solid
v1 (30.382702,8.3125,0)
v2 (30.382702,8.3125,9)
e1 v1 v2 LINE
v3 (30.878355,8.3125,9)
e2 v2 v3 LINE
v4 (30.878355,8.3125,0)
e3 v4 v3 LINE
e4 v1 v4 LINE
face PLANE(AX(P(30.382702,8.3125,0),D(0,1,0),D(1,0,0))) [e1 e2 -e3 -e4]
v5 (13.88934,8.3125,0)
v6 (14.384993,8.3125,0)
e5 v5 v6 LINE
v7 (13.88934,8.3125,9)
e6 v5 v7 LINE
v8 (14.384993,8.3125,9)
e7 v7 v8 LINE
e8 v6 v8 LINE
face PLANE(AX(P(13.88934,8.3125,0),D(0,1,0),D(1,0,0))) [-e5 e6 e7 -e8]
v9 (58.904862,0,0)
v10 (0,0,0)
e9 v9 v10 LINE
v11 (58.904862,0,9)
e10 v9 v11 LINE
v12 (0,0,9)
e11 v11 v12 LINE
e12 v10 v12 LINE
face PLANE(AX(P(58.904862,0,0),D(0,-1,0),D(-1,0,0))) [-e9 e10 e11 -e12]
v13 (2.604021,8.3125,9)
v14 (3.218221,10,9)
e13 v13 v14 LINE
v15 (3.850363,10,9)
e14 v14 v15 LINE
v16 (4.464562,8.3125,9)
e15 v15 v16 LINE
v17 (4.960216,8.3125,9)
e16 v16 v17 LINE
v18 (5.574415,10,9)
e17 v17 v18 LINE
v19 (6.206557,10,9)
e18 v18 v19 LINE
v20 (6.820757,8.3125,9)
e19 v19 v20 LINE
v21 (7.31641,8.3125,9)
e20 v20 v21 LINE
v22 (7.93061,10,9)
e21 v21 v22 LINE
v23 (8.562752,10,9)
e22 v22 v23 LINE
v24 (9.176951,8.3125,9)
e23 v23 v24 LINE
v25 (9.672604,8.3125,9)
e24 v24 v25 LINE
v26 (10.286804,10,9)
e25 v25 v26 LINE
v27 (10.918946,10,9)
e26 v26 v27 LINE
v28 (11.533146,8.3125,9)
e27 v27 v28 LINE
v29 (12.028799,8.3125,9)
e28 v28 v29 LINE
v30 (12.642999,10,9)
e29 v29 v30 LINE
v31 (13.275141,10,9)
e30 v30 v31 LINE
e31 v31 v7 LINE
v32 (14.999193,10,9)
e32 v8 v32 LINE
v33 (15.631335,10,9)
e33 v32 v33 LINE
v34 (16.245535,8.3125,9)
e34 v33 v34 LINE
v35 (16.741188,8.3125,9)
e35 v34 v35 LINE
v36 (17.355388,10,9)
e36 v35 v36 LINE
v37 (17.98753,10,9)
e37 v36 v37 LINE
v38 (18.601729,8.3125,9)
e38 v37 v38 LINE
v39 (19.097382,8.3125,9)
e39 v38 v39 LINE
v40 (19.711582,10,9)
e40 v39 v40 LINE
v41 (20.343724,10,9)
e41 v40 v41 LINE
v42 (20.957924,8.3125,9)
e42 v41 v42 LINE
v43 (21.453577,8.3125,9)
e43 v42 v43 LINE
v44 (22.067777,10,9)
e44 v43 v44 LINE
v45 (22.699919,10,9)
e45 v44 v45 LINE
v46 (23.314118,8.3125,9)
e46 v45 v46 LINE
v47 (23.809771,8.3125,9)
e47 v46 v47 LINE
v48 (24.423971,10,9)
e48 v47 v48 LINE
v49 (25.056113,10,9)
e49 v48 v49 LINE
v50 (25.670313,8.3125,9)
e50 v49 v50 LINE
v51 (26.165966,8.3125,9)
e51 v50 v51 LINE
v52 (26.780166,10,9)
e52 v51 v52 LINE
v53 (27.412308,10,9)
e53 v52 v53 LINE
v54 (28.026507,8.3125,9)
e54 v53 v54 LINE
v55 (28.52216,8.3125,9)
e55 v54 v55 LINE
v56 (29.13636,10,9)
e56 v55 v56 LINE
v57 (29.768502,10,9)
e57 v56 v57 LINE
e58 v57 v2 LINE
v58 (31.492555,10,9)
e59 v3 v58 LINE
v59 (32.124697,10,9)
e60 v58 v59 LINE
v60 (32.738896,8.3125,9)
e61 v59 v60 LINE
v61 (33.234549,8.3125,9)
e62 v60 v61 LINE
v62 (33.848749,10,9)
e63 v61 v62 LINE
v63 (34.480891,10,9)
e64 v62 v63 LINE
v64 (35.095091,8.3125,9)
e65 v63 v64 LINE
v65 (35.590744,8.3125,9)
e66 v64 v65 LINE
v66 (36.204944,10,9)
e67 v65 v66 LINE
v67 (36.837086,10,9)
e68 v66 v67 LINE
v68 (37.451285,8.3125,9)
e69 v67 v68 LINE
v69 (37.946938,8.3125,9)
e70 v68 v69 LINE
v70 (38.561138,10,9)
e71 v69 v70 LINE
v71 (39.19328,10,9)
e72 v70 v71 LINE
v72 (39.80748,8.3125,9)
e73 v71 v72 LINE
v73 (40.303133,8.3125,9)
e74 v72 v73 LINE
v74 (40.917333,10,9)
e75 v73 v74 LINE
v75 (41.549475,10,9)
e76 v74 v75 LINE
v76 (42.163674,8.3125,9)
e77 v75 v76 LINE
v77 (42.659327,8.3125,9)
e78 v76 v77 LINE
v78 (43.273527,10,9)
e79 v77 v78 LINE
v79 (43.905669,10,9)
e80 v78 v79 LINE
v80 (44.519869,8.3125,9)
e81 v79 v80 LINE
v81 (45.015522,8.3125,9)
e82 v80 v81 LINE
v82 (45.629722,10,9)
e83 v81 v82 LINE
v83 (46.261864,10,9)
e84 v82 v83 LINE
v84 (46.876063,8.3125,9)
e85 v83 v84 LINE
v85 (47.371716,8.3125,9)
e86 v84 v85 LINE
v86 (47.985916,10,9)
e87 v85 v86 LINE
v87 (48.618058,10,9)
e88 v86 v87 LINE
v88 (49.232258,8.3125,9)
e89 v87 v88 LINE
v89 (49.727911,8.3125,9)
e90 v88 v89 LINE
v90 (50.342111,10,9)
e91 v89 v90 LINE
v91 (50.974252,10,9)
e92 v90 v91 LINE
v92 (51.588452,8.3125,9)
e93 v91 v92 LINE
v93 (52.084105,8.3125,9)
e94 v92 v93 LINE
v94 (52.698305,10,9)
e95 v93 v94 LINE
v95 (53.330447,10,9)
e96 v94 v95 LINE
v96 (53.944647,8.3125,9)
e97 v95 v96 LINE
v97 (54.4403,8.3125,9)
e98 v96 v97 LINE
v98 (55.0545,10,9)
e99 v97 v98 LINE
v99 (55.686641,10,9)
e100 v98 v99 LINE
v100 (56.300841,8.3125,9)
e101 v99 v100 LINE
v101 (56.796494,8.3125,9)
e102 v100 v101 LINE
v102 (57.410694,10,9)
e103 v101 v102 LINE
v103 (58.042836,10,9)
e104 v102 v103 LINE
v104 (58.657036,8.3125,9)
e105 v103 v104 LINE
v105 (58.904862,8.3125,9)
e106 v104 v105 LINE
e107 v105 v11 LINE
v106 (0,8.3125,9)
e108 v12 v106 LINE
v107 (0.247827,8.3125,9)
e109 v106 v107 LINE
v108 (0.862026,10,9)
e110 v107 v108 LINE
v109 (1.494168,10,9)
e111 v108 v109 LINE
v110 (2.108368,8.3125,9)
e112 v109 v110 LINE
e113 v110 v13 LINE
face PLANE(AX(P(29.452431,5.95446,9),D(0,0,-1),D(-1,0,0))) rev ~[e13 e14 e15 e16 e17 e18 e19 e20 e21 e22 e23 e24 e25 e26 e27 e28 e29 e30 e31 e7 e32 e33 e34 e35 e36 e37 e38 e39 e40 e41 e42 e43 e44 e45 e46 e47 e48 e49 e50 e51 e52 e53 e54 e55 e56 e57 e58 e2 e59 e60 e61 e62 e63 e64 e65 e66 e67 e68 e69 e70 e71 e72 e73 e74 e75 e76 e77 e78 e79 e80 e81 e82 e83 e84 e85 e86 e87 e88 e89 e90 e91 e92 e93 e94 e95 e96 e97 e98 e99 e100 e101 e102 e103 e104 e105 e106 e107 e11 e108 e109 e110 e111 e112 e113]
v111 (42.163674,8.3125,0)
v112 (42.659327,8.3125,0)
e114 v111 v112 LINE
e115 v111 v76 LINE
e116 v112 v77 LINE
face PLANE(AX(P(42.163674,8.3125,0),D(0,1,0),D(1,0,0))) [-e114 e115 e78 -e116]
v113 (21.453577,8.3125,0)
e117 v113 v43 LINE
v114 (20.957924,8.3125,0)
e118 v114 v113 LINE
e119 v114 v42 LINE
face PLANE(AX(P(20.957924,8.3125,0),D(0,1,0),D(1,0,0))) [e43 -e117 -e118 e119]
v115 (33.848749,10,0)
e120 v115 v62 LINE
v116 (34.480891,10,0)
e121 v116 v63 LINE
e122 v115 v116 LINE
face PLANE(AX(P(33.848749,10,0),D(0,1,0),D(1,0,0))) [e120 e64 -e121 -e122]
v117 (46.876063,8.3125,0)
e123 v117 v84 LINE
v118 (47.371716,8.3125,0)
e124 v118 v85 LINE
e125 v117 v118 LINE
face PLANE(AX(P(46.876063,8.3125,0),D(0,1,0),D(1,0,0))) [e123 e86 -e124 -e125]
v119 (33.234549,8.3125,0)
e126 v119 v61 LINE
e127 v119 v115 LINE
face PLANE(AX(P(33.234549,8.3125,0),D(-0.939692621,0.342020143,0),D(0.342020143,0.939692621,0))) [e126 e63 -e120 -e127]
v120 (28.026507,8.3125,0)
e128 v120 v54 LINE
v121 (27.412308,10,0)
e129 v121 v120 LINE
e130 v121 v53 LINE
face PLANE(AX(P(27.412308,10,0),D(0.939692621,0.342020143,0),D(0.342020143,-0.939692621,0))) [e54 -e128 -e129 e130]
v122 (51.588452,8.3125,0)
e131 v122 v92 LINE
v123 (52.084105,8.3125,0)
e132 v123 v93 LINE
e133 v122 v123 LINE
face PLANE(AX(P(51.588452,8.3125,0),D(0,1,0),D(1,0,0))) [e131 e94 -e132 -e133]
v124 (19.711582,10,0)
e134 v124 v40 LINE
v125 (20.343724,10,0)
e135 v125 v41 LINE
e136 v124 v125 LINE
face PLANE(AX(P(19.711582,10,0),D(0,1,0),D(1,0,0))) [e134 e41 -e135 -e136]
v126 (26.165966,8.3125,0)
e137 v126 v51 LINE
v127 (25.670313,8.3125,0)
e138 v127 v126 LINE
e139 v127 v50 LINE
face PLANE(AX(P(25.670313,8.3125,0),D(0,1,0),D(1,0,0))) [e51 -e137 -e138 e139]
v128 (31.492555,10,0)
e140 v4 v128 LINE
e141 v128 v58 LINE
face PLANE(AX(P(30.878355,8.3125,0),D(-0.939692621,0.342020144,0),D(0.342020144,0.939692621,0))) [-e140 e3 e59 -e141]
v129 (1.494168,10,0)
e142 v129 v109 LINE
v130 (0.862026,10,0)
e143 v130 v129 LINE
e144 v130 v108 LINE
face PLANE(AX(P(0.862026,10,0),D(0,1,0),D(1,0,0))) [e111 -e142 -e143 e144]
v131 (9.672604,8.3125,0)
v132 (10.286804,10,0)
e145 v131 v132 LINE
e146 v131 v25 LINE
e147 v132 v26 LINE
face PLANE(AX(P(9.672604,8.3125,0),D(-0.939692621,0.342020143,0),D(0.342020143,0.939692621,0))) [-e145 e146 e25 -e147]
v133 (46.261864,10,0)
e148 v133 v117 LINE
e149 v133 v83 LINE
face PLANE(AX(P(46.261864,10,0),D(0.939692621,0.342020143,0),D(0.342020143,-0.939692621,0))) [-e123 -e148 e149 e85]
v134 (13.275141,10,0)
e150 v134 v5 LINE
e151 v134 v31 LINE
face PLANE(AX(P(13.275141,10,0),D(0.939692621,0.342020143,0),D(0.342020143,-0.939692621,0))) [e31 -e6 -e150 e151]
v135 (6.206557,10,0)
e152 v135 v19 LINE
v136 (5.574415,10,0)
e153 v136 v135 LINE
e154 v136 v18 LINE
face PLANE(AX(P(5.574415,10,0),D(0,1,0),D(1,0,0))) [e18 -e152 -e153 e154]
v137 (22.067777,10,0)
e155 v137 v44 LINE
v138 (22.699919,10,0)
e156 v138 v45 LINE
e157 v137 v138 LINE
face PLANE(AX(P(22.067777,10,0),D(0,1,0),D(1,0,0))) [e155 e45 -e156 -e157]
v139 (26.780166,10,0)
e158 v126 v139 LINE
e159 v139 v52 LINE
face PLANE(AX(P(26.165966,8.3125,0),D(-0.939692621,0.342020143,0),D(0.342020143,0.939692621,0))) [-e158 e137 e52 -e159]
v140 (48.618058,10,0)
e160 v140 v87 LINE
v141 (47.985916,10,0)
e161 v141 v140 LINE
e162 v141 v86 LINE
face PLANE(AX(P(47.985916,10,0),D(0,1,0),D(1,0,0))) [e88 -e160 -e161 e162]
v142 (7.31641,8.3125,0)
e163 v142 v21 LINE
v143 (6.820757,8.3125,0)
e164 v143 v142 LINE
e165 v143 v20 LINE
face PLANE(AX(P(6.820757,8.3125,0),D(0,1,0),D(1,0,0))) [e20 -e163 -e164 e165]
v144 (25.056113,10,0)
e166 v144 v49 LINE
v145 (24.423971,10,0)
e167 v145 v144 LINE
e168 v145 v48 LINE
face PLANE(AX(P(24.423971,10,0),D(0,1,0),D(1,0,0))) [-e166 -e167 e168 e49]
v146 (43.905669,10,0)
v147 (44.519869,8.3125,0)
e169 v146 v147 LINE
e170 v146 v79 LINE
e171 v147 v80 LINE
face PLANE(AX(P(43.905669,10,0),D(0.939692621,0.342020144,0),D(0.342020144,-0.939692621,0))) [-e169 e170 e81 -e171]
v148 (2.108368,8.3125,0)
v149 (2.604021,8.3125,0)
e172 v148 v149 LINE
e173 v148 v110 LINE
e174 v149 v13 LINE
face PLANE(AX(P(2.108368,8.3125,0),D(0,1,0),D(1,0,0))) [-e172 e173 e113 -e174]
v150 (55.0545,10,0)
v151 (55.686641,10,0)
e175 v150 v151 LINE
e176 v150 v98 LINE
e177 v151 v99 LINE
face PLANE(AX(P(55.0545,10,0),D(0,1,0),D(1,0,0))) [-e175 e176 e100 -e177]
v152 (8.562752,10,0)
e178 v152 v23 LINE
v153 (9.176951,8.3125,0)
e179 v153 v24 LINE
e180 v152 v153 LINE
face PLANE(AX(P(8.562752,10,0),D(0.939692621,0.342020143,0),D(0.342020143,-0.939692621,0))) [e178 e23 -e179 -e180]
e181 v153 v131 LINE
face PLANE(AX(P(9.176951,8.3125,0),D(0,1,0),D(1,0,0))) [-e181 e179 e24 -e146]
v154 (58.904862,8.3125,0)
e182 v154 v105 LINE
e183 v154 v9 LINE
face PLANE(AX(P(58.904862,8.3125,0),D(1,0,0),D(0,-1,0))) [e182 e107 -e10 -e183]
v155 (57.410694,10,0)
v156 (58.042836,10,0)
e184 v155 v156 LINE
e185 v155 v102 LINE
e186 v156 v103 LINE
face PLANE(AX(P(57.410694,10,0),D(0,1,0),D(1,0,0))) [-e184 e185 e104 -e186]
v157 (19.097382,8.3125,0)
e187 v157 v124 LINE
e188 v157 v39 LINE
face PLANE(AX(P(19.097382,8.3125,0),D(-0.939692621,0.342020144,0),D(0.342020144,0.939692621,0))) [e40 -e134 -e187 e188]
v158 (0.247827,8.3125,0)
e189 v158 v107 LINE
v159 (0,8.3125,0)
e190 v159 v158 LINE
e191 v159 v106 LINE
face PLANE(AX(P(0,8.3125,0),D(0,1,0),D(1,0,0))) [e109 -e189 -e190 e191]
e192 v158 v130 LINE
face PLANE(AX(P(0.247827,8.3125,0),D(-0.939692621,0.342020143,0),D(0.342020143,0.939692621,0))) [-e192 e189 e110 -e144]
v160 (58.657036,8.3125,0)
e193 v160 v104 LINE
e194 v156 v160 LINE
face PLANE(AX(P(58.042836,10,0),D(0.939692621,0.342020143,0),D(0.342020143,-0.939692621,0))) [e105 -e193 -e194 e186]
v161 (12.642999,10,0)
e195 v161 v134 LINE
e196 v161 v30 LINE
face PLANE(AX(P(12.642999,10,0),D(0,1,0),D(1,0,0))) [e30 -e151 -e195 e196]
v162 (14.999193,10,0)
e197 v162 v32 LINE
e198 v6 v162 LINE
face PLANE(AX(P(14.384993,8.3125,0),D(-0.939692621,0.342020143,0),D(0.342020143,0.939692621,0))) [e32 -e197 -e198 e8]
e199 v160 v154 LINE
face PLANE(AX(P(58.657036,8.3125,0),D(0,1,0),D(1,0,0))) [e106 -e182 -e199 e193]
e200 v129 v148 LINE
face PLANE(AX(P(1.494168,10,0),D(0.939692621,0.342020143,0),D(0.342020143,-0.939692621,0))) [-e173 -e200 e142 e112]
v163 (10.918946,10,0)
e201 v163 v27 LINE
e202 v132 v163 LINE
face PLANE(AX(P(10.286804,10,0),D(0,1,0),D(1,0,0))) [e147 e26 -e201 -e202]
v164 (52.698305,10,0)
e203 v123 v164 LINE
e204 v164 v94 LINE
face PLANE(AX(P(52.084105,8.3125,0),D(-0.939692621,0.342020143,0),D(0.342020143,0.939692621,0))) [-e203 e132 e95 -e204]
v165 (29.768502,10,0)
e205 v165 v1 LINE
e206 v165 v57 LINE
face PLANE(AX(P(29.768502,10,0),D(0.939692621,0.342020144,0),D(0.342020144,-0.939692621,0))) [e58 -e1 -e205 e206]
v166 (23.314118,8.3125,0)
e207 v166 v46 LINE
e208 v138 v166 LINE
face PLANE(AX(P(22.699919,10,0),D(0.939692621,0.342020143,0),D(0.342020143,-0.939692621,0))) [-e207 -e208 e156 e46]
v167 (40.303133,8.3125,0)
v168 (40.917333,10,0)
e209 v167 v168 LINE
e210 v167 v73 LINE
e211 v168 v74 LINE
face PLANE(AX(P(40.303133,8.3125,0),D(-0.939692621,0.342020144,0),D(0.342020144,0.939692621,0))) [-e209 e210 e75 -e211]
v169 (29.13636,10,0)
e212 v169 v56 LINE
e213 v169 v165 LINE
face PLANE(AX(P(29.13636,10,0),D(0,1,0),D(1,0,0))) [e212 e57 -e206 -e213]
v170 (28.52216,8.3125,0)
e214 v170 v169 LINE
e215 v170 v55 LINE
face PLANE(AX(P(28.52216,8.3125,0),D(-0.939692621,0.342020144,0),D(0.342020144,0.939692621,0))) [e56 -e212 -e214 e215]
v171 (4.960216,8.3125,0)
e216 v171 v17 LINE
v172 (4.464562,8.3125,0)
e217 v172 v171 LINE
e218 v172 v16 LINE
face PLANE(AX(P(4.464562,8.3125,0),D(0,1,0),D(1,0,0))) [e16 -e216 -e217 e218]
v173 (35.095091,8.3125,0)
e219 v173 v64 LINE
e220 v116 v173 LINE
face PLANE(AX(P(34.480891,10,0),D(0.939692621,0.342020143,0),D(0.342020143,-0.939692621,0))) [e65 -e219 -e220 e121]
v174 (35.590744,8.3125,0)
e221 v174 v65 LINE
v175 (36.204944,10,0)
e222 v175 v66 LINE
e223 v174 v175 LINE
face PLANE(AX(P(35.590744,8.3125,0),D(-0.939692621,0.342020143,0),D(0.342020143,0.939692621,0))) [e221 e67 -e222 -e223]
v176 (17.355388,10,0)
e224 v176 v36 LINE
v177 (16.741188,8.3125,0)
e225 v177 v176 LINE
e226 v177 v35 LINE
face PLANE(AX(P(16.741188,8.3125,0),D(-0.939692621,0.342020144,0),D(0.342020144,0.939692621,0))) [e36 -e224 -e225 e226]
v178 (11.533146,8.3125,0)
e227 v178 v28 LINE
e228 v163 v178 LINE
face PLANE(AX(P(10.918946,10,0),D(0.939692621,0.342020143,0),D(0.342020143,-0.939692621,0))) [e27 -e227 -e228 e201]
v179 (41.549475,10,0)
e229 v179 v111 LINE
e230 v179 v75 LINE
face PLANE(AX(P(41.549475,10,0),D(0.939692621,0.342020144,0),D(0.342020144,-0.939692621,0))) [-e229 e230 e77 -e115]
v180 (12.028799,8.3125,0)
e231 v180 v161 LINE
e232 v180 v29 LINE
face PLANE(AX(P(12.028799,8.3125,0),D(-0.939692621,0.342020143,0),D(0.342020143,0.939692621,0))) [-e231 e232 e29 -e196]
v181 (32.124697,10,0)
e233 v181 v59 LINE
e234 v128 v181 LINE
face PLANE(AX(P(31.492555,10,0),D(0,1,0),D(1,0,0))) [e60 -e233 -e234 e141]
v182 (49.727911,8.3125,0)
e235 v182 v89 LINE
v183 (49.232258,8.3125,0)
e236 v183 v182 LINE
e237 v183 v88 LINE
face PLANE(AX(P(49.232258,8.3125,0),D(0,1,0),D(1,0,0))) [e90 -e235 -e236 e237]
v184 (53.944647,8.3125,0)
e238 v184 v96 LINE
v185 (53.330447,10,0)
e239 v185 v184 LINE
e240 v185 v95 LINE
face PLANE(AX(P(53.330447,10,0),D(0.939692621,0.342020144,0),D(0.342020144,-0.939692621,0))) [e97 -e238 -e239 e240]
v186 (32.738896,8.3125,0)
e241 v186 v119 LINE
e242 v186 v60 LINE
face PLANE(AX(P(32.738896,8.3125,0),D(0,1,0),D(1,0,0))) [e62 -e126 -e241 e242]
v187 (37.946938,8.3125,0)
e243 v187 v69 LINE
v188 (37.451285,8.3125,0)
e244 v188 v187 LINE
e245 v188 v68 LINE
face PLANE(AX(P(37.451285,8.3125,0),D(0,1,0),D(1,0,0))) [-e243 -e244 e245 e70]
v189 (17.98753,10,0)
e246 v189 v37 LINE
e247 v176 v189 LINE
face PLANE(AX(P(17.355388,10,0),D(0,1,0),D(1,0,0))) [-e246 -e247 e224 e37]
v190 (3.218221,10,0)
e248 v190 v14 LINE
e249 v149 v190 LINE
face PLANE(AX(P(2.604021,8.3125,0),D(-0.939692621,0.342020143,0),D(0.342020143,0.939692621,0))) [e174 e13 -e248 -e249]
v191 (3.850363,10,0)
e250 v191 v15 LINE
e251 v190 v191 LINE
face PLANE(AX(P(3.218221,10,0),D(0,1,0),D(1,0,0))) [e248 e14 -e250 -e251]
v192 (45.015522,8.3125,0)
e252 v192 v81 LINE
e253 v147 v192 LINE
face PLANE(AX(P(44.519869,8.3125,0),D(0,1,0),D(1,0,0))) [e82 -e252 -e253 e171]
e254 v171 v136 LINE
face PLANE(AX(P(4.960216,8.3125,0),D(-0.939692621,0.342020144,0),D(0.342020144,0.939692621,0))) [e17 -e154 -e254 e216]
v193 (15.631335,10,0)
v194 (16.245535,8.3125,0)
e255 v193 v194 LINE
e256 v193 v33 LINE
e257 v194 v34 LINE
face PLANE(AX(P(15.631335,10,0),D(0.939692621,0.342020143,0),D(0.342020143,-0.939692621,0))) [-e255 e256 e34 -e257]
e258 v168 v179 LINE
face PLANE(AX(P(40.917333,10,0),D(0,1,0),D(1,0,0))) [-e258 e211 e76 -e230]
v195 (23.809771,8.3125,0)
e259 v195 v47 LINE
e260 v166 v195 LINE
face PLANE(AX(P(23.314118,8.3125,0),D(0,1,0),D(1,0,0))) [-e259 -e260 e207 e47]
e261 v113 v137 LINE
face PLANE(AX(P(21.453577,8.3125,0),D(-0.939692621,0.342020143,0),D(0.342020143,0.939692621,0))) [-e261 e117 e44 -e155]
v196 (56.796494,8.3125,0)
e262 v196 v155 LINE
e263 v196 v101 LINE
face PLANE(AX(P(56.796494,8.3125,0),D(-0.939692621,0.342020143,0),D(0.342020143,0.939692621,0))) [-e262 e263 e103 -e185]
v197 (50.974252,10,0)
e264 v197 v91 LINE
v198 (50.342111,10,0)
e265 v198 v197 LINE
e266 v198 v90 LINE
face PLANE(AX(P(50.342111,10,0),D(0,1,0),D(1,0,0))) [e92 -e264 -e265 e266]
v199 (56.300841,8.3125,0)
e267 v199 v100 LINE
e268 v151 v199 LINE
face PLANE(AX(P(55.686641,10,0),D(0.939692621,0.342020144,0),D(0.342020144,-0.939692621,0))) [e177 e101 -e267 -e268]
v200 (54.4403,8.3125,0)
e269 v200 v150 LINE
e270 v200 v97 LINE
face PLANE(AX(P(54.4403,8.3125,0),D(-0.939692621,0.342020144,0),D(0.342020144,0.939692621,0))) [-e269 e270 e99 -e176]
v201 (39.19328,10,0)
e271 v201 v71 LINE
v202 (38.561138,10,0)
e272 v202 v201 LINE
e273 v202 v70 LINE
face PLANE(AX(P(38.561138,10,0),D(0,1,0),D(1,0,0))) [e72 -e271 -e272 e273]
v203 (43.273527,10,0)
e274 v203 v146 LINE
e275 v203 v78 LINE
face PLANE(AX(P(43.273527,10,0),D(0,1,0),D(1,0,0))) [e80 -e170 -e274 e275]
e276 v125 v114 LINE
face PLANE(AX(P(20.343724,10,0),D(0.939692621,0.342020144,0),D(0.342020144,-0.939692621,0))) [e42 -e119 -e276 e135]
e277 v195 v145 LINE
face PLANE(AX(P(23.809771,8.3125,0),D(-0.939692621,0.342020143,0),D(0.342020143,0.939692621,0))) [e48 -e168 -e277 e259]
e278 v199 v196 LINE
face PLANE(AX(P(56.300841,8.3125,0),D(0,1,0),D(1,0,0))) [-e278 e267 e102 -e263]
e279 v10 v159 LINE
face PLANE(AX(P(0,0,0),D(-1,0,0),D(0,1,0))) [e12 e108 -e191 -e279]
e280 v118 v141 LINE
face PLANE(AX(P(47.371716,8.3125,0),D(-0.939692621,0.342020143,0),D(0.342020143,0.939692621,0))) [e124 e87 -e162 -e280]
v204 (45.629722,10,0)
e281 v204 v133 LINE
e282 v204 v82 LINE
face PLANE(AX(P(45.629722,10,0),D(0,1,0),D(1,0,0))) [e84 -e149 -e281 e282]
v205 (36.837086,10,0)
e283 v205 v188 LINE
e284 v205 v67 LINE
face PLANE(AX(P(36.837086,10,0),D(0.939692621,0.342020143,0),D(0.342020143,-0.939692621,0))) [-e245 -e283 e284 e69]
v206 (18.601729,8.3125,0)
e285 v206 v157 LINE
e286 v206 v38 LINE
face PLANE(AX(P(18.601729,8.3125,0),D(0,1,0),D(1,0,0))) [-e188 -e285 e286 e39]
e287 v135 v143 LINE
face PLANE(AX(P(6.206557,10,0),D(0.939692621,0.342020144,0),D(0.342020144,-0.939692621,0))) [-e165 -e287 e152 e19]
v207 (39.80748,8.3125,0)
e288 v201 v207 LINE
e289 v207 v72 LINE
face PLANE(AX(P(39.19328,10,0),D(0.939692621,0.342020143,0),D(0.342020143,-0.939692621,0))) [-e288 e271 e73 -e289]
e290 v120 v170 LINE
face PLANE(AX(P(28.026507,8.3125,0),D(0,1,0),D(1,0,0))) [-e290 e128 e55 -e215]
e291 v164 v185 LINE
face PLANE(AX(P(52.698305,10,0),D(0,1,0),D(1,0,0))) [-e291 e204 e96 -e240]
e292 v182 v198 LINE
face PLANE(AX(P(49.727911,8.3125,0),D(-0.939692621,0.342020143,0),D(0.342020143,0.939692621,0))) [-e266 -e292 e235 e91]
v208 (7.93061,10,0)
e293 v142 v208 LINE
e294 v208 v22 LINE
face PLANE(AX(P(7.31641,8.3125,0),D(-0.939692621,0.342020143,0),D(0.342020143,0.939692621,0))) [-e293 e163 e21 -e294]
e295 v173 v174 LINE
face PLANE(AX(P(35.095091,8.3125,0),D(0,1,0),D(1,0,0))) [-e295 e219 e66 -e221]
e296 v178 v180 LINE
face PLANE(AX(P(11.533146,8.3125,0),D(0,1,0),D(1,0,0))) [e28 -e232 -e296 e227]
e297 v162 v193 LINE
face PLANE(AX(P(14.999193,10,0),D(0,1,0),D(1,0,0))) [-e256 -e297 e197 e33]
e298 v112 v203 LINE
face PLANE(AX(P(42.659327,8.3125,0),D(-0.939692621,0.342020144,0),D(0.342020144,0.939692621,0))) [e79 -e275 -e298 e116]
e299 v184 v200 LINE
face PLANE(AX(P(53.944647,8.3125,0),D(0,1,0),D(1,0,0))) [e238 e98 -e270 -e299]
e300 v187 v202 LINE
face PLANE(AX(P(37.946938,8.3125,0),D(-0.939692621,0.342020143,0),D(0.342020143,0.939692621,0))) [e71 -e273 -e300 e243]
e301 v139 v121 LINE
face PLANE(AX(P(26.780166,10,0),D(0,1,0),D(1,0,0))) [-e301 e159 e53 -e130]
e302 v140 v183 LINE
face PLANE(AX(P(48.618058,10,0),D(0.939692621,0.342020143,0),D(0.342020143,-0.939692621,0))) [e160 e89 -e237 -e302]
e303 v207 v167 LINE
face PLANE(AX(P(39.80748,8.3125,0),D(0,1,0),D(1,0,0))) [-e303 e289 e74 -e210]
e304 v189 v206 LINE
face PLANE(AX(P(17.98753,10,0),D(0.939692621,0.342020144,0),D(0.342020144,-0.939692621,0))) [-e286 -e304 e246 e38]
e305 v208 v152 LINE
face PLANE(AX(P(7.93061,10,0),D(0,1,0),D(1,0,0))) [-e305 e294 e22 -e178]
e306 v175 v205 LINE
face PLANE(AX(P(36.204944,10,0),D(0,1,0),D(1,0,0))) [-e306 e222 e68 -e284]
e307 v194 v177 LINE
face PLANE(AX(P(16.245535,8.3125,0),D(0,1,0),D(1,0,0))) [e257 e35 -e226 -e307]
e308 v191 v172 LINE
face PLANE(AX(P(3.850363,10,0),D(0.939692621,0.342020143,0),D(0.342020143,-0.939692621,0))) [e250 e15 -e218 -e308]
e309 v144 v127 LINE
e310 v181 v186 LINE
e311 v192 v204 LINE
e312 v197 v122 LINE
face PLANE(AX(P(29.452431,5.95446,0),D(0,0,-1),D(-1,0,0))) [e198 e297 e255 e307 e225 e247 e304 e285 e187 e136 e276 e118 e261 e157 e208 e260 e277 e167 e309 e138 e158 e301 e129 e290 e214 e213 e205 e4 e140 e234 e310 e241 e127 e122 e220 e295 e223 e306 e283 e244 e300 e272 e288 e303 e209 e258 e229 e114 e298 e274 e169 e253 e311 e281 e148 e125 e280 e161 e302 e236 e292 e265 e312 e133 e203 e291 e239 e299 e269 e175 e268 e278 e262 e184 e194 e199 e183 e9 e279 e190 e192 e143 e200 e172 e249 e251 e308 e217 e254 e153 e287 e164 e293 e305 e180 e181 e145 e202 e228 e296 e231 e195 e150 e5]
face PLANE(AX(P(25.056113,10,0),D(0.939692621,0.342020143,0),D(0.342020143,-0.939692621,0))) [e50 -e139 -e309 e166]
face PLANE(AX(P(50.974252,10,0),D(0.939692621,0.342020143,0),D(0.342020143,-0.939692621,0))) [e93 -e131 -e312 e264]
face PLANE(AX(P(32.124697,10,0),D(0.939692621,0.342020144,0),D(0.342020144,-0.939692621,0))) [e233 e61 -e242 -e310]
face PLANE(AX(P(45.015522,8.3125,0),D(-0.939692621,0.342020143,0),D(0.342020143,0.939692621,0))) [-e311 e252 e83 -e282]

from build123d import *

# Parameters (mm, degrees)
BOSS_EXTRU_1_DEPTH = 9


with BuildPart() as part:
    # Esquisse1 → Boss.-Extru.1 (new body)
    with BuildSketch(Plane(origin=(0, 0, 0), x_dir=(-1, 0, 0), z_dir=(0, 0, -1))):
        Polygon((-58.904862255, 8.3125), (-58.904862255, 0), (0, 0), (0, 8.3125), (-0.247826528, 8.3125), (-0.862026298, 10), (-1.494168192, 10), (-2.108367962, 8.3125), (-2.604021018, 8.3125), (-3.218220788, 10), (-3.850362682, 10), (-4.464562452, 8.3125), (-4.960215508, 8.3125), (-5.574415279, 10), (-6.206557172, 10), (-6.820756943, 8.3125), (-7.316409999, 8.3125), (-7.930609769, 10), (-8.562751663, 10), (-9.176951433, 8.3125), (-9.672604489, 8.3125), (-10.286804259, 10), (-10.918946153, 10), (-11.533145923, 8.3125), (-12.028798979, 8.3125), (-12.642998749, 10), (-13.275140643, 10), (-13.889340413, 8.3125), (-14.384993469, 8.3125), (-14.999193239, 10), (-15.631335133, 10), (-16.245534903, 8.3125), (-16.741187959, 8.3125), (-17.35538773, 10), (-17.987529623, 10), (-18.601729394, 8.3125), (-19.097382449, 8.3125), (-19.71158222, 10), (-20.343724113, 10), (-20.957923884, 8.3125), (-21.45357694, 8.3125), (-22.06777671, 10), (-22.699918604, 10), (-23.314118374, 8.3125), (-23.80977143, 8.3125), (-24.4239712, 10), (-25.056113094, 10), (-25.670312864, 8.3125), (-26.16596592, 8.3125), (-26.78016569, 10), (-27.412307584, 10), (-28.026507354, 8.3125), (-28.52216041, 8.3125), (-29.136360181, 10), (-29.768502074, 10), (-30.382701845, 8.3125), (-30.8783549, 8.3125), (-31.492554671, 10), (-32.124696564, 10), (-32.738896335, 8.3125), (-33.234549391, 8.3125), (-33.848749161, 10), (-34.480891055, 10), (-35.095090825, 8.3125), (-35.590743881, 8.3125), (-36.204943651, 10), (-36.837085545, 10), (-37.451285315, 8.3125), (-37.946938371, 8.3125), (-38.561138141, 10), (-39.193280035, 10), (-39.807479805, 8.3125), (-40.303132861, 8.3125), (-40.917332632, 10), (-41.549474525, 10), (-42.163674296, 8.3125), (-42.659327351, 8.3125), (-43.273527122, 10), (-43.905669015, 10), (-44.519868786, 8.3125), (-45.015521842, 8.3125), (-45.629721612, 10), (-46.261863506, 10), (-46.876063276, 8.3125), (-47.371716332, 8.3125), (-47.985916102, 10), (-48.618057996, 10), (-49.232257766, 8.3125), (-49.727910822, 8.3125), (-50.342110592, 10), (-50.974252486, 10), (-51.588452256, 8.3125), (-52.084105312, 8.3125), (-52.698305082, 10), (-53.330446976, 10), (-53.944646747, 8.3125), (-54.440299802, 8.3125), (-55.054499573, 10), (-55.686641466, 10), (-56.300841237, 8.3125), (-56.796494293, 8.3125), (-57.410694063, 10), (-58.042835957, 10), (-58.657035727, 8.3125), align=None)
    extrude(amount=-BOSS_EXTRU_1_DEPTH)


solid = part.part
